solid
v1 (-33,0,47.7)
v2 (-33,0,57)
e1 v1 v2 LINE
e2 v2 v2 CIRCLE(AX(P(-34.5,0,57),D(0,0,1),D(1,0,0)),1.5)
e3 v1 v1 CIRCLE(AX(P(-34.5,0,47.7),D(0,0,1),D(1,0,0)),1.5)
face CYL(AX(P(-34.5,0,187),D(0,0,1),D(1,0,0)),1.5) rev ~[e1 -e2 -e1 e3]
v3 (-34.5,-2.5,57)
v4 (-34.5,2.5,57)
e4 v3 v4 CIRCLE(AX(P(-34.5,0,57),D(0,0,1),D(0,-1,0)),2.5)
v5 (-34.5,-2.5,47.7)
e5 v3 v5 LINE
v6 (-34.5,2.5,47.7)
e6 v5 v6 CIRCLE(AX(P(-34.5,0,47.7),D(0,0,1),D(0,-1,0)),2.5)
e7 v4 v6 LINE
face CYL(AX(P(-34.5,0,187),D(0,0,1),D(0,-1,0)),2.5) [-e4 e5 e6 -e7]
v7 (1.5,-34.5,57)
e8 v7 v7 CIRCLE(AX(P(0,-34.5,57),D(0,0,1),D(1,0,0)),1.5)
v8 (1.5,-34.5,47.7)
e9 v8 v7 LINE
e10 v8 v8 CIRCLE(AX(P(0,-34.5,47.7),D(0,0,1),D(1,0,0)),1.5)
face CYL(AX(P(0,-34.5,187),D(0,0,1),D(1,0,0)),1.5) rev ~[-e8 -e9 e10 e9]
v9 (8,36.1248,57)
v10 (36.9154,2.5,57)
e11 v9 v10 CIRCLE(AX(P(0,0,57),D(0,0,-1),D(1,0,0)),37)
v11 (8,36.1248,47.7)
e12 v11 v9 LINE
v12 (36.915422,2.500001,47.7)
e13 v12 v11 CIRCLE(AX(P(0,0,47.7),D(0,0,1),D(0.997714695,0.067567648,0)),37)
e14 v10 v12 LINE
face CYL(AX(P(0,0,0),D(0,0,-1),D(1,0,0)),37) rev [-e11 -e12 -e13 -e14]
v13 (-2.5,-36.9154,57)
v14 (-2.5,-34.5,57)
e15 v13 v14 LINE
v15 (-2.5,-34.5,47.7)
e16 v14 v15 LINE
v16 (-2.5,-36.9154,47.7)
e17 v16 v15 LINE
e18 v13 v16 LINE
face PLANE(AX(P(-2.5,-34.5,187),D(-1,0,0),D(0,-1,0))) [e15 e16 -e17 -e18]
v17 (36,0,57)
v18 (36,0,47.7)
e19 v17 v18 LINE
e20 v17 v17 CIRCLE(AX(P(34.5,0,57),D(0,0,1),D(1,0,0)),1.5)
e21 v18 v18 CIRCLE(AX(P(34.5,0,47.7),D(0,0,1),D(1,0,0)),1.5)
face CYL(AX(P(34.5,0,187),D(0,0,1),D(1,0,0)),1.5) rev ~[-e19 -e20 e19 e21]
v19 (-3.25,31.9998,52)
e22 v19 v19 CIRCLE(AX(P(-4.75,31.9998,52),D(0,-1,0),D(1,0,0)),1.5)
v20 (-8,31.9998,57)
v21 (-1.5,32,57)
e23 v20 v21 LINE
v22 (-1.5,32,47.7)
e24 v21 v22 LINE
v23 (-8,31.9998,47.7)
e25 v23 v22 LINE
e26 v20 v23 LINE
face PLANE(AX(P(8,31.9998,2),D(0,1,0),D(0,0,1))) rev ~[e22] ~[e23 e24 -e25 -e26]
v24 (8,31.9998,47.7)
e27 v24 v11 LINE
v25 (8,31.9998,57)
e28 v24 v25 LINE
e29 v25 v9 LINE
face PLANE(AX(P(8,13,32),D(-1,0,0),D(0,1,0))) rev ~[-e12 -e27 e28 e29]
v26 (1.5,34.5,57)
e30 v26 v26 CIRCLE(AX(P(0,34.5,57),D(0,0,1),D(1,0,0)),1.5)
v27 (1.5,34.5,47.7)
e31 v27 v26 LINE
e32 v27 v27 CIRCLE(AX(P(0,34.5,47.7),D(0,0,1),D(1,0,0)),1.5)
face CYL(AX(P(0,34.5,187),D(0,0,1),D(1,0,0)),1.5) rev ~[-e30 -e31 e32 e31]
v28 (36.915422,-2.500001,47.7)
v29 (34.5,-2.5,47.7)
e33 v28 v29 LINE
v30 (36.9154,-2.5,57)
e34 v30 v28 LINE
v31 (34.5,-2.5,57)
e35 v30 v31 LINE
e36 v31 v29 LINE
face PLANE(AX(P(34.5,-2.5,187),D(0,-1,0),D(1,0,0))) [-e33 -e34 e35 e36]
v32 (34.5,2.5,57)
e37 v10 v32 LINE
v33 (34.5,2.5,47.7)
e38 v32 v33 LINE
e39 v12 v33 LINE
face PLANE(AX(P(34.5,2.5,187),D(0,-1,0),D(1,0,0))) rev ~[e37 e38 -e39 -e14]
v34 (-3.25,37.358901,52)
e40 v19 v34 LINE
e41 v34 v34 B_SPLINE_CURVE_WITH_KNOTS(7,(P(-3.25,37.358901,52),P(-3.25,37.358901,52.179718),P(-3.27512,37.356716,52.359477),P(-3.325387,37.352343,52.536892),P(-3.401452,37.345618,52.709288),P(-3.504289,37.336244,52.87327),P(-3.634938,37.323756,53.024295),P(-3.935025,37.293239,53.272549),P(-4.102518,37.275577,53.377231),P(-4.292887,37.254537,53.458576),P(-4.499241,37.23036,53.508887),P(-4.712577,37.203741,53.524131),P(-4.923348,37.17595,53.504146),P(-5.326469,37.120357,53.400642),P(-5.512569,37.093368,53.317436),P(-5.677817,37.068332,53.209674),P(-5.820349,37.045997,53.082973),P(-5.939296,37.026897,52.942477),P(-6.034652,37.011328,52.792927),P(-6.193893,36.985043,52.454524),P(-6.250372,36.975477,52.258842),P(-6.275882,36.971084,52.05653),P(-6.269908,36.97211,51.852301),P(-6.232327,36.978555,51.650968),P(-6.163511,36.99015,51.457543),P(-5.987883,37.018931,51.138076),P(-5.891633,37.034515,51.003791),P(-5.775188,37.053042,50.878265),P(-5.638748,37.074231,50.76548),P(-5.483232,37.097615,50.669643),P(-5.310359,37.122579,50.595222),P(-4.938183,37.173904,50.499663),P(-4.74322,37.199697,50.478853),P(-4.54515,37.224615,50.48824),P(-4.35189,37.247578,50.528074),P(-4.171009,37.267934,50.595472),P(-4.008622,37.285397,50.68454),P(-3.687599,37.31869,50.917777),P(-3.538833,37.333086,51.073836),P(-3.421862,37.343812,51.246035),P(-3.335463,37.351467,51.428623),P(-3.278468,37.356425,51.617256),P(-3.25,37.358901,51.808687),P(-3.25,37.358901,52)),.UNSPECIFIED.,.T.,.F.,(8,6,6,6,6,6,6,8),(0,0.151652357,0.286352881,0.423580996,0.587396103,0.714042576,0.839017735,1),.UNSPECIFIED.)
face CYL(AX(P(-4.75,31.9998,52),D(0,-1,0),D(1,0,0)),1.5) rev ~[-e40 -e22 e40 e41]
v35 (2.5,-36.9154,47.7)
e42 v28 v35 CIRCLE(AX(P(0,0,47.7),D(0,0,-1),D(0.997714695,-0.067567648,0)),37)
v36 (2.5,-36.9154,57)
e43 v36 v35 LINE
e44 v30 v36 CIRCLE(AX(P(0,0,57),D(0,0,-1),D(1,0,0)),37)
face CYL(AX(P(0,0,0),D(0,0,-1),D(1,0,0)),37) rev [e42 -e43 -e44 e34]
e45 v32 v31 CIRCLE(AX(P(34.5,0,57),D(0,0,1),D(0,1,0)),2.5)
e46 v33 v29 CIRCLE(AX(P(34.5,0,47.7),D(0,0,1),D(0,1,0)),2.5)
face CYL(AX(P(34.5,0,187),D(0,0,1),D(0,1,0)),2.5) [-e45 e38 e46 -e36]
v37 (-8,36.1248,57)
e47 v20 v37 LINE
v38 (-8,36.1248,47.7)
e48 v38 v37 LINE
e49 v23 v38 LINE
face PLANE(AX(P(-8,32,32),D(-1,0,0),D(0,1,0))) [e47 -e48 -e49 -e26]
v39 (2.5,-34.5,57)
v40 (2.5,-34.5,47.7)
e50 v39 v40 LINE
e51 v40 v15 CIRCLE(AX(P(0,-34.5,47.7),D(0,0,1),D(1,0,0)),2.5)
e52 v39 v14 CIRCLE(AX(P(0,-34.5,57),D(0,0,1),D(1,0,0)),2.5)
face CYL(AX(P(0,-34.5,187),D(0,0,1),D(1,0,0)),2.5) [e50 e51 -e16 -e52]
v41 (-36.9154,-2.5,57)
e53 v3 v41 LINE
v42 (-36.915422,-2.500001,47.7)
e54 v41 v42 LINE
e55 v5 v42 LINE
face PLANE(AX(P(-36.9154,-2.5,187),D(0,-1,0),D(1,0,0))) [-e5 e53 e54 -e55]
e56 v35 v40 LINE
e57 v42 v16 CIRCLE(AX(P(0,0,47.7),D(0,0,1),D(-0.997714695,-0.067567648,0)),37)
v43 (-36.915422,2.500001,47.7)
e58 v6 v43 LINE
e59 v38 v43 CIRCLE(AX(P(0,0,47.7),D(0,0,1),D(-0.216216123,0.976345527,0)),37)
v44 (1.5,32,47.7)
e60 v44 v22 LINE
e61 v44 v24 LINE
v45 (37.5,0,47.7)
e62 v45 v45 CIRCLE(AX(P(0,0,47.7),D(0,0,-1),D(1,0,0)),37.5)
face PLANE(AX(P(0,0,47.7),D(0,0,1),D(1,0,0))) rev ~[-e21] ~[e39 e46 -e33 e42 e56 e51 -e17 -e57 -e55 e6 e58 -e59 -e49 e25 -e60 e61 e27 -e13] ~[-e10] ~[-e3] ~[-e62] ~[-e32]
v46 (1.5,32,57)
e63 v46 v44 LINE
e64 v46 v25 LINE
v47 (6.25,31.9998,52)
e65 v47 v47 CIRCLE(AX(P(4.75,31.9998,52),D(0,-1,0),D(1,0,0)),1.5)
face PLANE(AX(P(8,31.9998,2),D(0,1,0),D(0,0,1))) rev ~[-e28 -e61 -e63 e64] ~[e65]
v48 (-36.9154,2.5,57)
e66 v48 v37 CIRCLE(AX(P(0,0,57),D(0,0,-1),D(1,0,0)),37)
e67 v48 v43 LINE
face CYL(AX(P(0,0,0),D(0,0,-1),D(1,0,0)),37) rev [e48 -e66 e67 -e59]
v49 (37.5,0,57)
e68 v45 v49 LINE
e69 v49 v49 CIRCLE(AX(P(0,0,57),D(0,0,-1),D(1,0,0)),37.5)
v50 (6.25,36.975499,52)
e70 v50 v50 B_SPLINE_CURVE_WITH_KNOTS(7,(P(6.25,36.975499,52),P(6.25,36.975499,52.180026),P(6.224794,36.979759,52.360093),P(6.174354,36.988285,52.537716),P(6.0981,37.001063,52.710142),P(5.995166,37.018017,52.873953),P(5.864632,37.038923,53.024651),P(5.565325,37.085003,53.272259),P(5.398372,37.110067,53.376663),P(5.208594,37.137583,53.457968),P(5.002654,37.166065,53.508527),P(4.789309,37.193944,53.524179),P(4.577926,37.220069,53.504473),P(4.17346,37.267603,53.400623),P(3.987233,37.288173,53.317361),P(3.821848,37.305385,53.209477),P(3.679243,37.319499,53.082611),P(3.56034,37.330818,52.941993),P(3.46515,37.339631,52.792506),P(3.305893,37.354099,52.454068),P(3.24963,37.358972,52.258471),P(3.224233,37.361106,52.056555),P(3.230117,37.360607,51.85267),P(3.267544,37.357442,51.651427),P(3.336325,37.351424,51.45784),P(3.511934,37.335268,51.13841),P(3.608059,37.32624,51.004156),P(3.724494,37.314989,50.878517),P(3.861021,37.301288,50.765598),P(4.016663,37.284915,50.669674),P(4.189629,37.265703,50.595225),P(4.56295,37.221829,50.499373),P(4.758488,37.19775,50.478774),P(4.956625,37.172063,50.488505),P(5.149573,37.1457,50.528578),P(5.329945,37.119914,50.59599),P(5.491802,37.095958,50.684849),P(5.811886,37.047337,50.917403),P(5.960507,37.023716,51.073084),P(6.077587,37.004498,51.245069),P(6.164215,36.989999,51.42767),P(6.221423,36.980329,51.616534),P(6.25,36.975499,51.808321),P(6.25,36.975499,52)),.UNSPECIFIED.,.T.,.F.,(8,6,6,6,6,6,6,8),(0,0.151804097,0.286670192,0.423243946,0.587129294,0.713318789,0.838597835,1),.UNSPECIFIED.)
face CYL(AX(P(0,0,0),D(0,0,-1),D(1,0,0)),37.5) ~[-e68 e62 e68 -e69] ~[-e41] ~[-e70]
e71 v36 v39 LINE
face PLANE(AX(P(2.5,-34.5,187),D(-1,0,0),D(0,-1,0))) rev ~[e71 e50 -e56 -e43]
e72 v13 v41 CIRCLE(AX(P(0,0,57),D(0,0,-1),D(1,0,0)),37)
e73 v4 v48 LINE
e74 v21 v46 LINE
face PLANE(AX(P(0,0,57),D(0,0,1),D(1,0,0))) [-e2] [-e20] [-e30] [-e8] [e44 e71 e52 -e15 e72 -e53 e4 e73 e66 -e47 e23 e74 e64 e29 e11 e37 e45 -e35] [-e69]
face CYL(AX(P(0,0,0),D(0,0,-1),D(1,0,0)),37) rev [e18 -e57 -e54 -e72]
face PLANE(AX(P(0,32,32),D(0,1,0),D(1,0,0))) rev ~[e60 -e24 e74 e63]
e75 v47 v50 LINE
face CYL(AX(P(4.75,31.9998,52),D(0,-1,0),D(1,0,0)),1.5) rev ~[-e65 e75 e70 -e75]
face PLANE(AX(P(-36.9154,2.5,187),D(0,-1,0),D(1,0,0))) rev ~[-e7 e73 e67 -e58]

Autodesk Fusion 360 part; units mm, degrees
sketch "Esboço2" plane through (0, 0, 0) normal (0, 0, 1) x (1, 0, 0)
  circle A0 centre (0, 0) radius 37.5
  circle A1 centre (0, 0) radius 37
  dimension "d6" = 75
  dimension "d7" = 74
extrude "Extrusão2" add sketch "Esboço2" along normal blind 190
ref_plane "Plano de trabalho9" through (0, 0, 187) normal (0, 0, 1) x (1, 0, 0)
sketch "Esboço10" plane through (0, 0, 187) normal (0, 0, 1) x (1, 0, 0)
  circle A0 centre (0, 0) radius 34.5 construction
  line L0 (0, 0) -> (-68.1762, 0) construction
  line L1 (0, 0) -> (60, 0) construction
  line L2 (0, 0) -> (0, 45) construction
  line L3 (0, 0) -> (0, -43.1659) construction
  circle A1 centre (34.5, 0) radius 1.5
  line L4 (3, -43) -> (3, -42)
  circle A2 centre (0, 34.5) radius 1.5
  circle A3 centre (-34.5, 0) radius 1.5
  circle A4 centre (0, -34.5) radius 1.5
  arc A5 (34.5, 2.5) -> (34.5, -2.5) centre (34.5, 0) ccw
  arc A6 (-2.5, 34.5) -> (2.5, 34.5) centre (0, 34.5) ccw
  arc A7 (-34.5, -2.5) -> (-34.5, 2.5) centre (-34.5, 0) ccw
  arc A8 (2.5, -34.5) -> (-2.5, -34.5) centre (0, -34.5) ccw
  circle A9 centre (0, 0) radius 37
  line L5 (-36.9154, 2.5) -> (-34.4093, 2.5)
  line L6 (-36.9154, -2.5) -> (-34.4093, -2.5)
  line L7 (34.5, 2.5) -> (36.9154, 2.5)
  line L8 (34.5, -2.5) -> (36.9154, -2.5)
  line L9 (2.5, 36.9154) -> (2.5, 34.4093)
  line L10 (-2.5, 36.9154) -> (-2.5, 34.4093)
  line L11 (-2.5, -34.4093) -> (-2.5, -36.9154)
  line L12 (2.5, -34.4093) -> (2.5, -36.9154)
  dimension "d82" = 69
  dimension "d83" = 3
  dimension "d84" = 2.5
  dimension "d85" = 2.5
  dimension "d87" = 360
  dimension "d89" = 360
  dimension "d90" = 2.5
extrude "Extrusão12" add sketch "Esboço10" against normal blind 184 contours A5 A9 L7 L8 | A6 A9 L9 L10 | A8 A9 L11 L12 | A7 A9 L5 L6
thread "Rosca3"
ref_plane "Plano de trabalho3" through (0, 0, 32) normal (0, 0, 1) x (1, 0, 0)
sketch "Esboço3" plane through (0, 0, 32) normal (0, 0, 1) x (1, 0, 0)
  line L0 (0, 0) -> (0, 37) construction
  line L1 (34.2491, 14) -> (-34.2491, 14)
  circle A0 centre (0, 0) radius 37
  line L2 (31.1288, 20) -> (-31.1288, 20)
  line L3 (32.8634, 17) -> (-32.8634, 17)
  circle A1 centre (0, 0) radius 50
  circle A2 centre (0, 0) radius 37.5
  line L4 (-8, 0) -> (8, 0)
  line L5 (8, 0) -> (8, 36.1248)
  line L6 (-8, 0) -> (-8, 36.1248)
  circle A3 centre (0, 34.5) radius 1.5
  line L7 (1.5, 32.5) -> (1.5, 0)
  arc A4 (-2.5, 34.5) -> (2.5, 34.5) centre (0, 34.5) ccw
  line L8 (-1.5, 32.5) -> (-1.5, 0)
  line L9 (27.8634, 24.3441) -> (27.8634, 11)
  line L10 (27.8634, 11) -> (35.327, 11)
  line L11 (-27.8634, 11) -> (-35.327, 11)
  line L12 (-27.8634, 24.3441) -> (-27.8634, 11)
  line L13 (-30.4631, 21) -> (30.4631, 21)
  line L14 (-34.641, 13) -> (34.641, 13)
  line L15 (0, 32) -> (8, 32)
  line L16 (0, 32) -> (-8, 32)
  dimension "d12" = 6
  dimension "d15" = 3
  dimension "d17" = 75
  dimension "d18" = 100
  dimension "d41" = 14
  dimension "d51" = 8
  dimension "d52" = 16
  dimension "d99" = 3
  dimension "d100" = 2.5
  dimension "d115" = 6.5
  dimension "d123" = 5
  dimension "d124" = 6
  dimension "d143" = 4
  dimension "d144" = 4
extrude "Extrusão21" add sketch "Esboço3" along normal blind 6 and the other way blind 6 contours L1 A0 L9 L14 | L1 A0 L3 L9 | A0 L9 L10 L14 | A0 L2 L3 L9 | A0 L2 L9 L13 | A0 L9 L13 | A0 L11 L12 L14 | L1 A0 L12 L14 | L1 A0 L3 L12 | A0 L2 L3 L12 | A0 L12 L13 | A0 L2 L12 L13
sketch "Esboço18" plane through (-27.8634, 0, 0) normal (1, 0, 0) x (0, 1, 0)
  line L0 (24.3441, 26) -> (24.3441, 38)
  line L1 (24.3441, 38) -> (11, 38)
  line L2 (11, 38) -> (11, 26)
  line L3 (11, 26) -> (24.3441, 26)
  circle A0 centre (17, 32) radius 4
  point P0 (11, 32)
  dimension "d166" = 8
  dimension "d167" = 6
  dimension "d168" = 6
ref_plane "Plano de trabalho11" through (0, 0, 0) normal (1, 0, 0) x (0, 1, 0)
extrude "Extrusão23" cut sketch "Esboço18" against normal blind 15 contours A0
extrude "Extrusão7" add sketch "Esboço3" along normal blind 30 and the other way blind 30 contours L1 L5 L7 L14 | L1 L3 L5 L7 | L4 L5 L7 L14 | L2 L3 L5 L7 | L1 L6 L8 L14 | L1 L3 L6 L8 | L2 L5 L7 L13 | L2 L3 L6 L8 | L4 L6 L8 L14 | L5 L7 L13 L15 | A0 L5 L6 L7 A4 L8 L15 L16 | L2 L6 L8 L13 | L6 L8 L13 L16 | L7 A4 L15 | A4 L8 L16
sketch "Esboço19" plane through (27.8634, 0, 0) normal (-1, 0, 0) x (0, -1, 0)
  line L0 (-11, 26) -> (-11, 38)
  line L1 (-11, 38) -> (-24.3441, 38)
  line L2 (-24.3441, 38) -> (-24.3441, 26)
  line L3 (-24.3441, 26) -> (-11, 26)
extrude "Extrusão24" cut sketch "Esboço18" along normal blind 80 contours A0
sketch "Esboço11" plane through (8, 0, 0) normal (1, 0, 0) x (0, 1, 0)
  line L0 (0, 2) -> (36.1248, 2)
  line L1 (36.1248, 2) -> (36.1248, 62)
  line L2 (36.1248, 62) -> (0, 62)
  line L3 (0, 62) -> (0, 2)
  circle A0 centre (17, 32) radius 3
  circle A1 centre (17, 32) radius 9.5
  circle A2 centre (17, 32) radius 12.5
  line L4 (36.1248, 32) -> (36.1248, -5) construction
  line L5 (0, 32) -> (36.1248, 32)
  line L6 (30.1248, 2) -> (8.3278, 22.9976)
  line L7 (30.1248, 62) -> (8.3278, 41.0024)
  line L8 (30.1248, 2) -> (31.9998, 2)
  line L9 (31.9998, 2) -> (31.9998, 32)
  line L10 (30.1248, 62) -> (31.9998, 62)
  line L11 (31.9998, 62) -> (31.9998, 32)
  circle A3 centre (17, 32) radius 4
  point P0 (14, 32)
  point P1 (20, 32)
  dimension "d106" = 6
  dimension "d107" = 19
  dimension "d109" = 25
  dimension "d110" = 6
  dimension "d147" = 1.875
extrude "Extrusão13" cut sketch "Esboço11" against normal blind 16 contours L0 L3 A2 L5 L6 | L0 A2 L5 L6 L8 L9 | L2 L3 A2 L5 L7 | A1 A2 L5 | A1 A2 L5 | L2 A2 L5 L7 L10 L11 | A1 L5 A3 | A1 L5 A3 | A0 L5 A3 | A0 L5 A3 | A0 L5 | A0 L5
ref_plane "Plano de trabalho4" through (0, 0, 150) normal (0, 0, 1) x (1, 0, 0)
sketch "Esboço4" plane through (0, 0, 150) normal (0, 0, 1) x (1, 0, 0)
  circle A0 centre (0, 0) radius 37
  circle A1 centre (0, 0) radius 50
  circle A2 centre (0, 0) radius 37.5
  line L0 (-20, -31.1288) -> (-20, 31.1288)
  line L1 (-17, -32.8634) -> (-17, 32.8634)
  line L2 (-14, -34.2491) -> (-14, 34.2491)
  line L3 (0, 8) -> (0, -8)
  line L4 (0, 8) -> (-36.1248, 8)
  line L5 (0, -8) -> (-36.1248, -8)
  line L6 (0, 0) -> (-37, 0) construction
  circle A3 centre (-34.5, 0) radius 1.5
  line L7 (0, 1.5) -> (-32.5, 1.5)
  arc A4 (-34.5, -2.5) -> (-34.5, 2.5) centre (-34.5, 0) ccw
  line L8 (0, -1.5) -> (-32.5, -1.5)
  line L9 (-24.3441, -27.8634) -> (-11, -27.8634)
  line L10 (-11, -27.8634) -> (-11, -35.327)
  line L11 (-24.3441, 27.8634) -> (-11, 27.8634)
  line L12 (-11, 27.8634) -> (-11, 35.327)
  line L13 (-13, 34.641) -> (-13, -34.641)
  line L14 (-21, 30.4631) -> (-21, -30.4631)
  line L15 (-32, 0) -> (-32, 8)
  line L16 (-32, 0) -> (-32, -8)
  dimension "d28" = 75
  dimension "d29" = 100
  dimension "d38" = 14
  dimension "d39" = 6
  dimension "d40" = 3
  dimension "d43" = 16
  dimension "d44" = 8
  dimension "d101" = 3
  dimension "d102" = 2.5
  dimension "d116" = 6.5
  dimension "d135" = 6
  dimension "d136" = 5
  dimension "d145" = 4
  dimension "d146" = 4
extrude "Extrusão25" add sketch "Esboço4" along normal blind 6 and the other way blind 6 contours A0 L11 L12 L13 | A0 L9 L10 L13 | A0 L2 L11 L13 | A0 L2 L9 L13 | A0 L1 L2 L11 | A0 L1 L2 L9 | A0 L0 L1 L11 | A0 L0 L1 L9 | A0 L0 L11 L14 | A0 L0 L9 L14 | A0 L11 L14 | A0 L9 L14
sketch "Esboço20" plane through (0, 27.8634, 0) normal (0, -1, 0) x (1, 0, 0)
  line L0 (-11, 144) -> (-11, 156)
  line L1 (-11, 156) -> (-24.3441, 156)
  line L2 (-24.3441, 156) -> (-24.3441, 144)
  line L3 (-24.3441, 144) -> (-11, 144)
  circle A0 centre (-17, 150) radius 4
  dimension "d179" = 8
  dimension "d180" = 6
  dimension "d182" = 6
extrude "Extrusão26" cut sketch "Esboço20" against normal blind 15 contours A0
sketch "Esboço21" plane through (0, -27.8634, 0) normal (0, 1, 0) x (-1, 0, 0)
  line L0 (24.3441, 144) -> (24.3441, 156)
  line L1 (24.3441, 156) -> (11, 156)
  line L2 (11, 156) -> (11, 144)
  line L3 (11, 144) -> (24.3441, 144)
  circle A0 centre (17, 150) radius 4
  dimension "d185" = 8
  dimension "d186" = 6
  dimension "d187" = 6
extrude "Extrusão27" cut sketch "Esboço21" against normal blind 15 contours A0
extrude "Extrusão6" add sketch "Esboço4" along normal blind 30 and the other way blind 30 contours L2 L4 L7 L13 | L3 L4 L7 L13 | L3 L5 L8 L13 | L2 L5 L8 L13 | L1 L2 L4 L7 | L1 L2 L5 L8 | L0 L1 L4 L7 | L0 L1 L5 L8 | L0 L4 L7 L14 | L0 L5 L8 L14 | A0 L4 L5 L7 A4 L8 L15 L16 | L4 L7 L14 L15 | L5 L8 L14 L16 | L7 A4 L15 | A4 L8 L16
sketch "Esboço13" plane through (0, -8, 0) normal (0, -1, 0) x (1, 0, 0)
  line L0 (0, 120) -> (0, 180)
  line L1 (0, 180) -> (-36.1248, 180)
  line L2 (-36.1248, 180) -> (-36.1248, 120)
  line L3 (-36.1248, 120) -> (0, 120)
  circle A0 centre (-17, 150) radius 3
  circle A1 centre (-17, 150) radius 9.5
  circle A2 centre (-17, 150) radius 12.5
  line L4 (-36.1248, 150) -> (-36.1248, 198.4836) construction
  line L5 (-30.1248, 180) -> (-6.6704, 157.4058)
  line L6 (0, 150) -> (-36.1248, 150)
  line L7 (-30.1248, 120) -> (-6.6704, 142.5942)
  line L8 (-30.1248, 180) -> (-31.9998, 180)
  line L9 (-31.9998, 180) -> (-31.9998, 150)
  line L10 (-30.1248, 120) -> (-31.9998, 120)
  line L11 (-31.9998, 120) -> (-31.9998, 150)
  point P0 (-14, 150)
  point P1 (-20, 150)
  dimension "d117" = 6
  dimension "d118" = 19
  dimension "d119" = 25
  dimension "d120" = 6
  dimension "d148" = 1.875
extrude "Extrusão14" cut sketch "Esboço13" against normal blind 16 contours L0 L3 A2 L6 L7 | L0 L1 A2 L5 L6 | L3 A2 L6 L7 L10 L11 | A1 A2 L6 | A1 A2 L6 | L1 A2 L5 L6 L8 L9 | A0 A1 L6 | A0 A1 L6 | A0 L6 | A0 L6
ref_plane "Plano de trabalho5" through (0, 0, 0) normal (1, 0, 0) x (0, 1, 0)
ref_plane "Plano de trabalho6" through (0, 0, 0) normal (0, 1, 0) x (0, 0, 1)
ref_plane "Plano de trabalho7" through (0, 0, 134.3) normal (0, 0, 1) x (1, 0, 0)
sketch "Esboço8" plane through (0, 0, 134.3) normal (0, 0, 1) x (1, 0, 0)
  line L0 (46.3444, 0) -> (0, 0) construction
  line L1 (8, 36.1248) -> (8, -36.1248)
  line L2 (-8, -36.1248) -> (-8, 36.1248)
  circle A0 centre (0, 0) radius 37
  line L3 (0, 0) -> (0, 37) construction
  circle A1 centre (0, 34.5) radius 1.5
  circle A2 centre (0, -34.5) radius 1.5
  dimension "d72" = 8
  dimension "d73" = 8
  dimension "d95" = 2.5
  dimension "d96" = 3
extrude "Extrusão10" add sketch "Esboço8" along normal blind 2 contours L1 L2 A0
ref_plane "Plano de trabalho8" through (0, 0, 45.7) normal (0, 0, 1) x (1, 0, 0)
sketch "Esboço9" plane through (0, 0, 45.7) normal (0, 0, 1) x (1, 0, 0)
  line L0 (0, 0) -> (-37, 0) construction
  line L1 (-36.1248, 8) -> (36.1248, 8)
  line L2 (-36.1248, -8) -> (36.1248, -8)
  circle A0 centre (0, 0) radius 37
  circle A1 centre (-34.5, 0) radius 1.5
  line L3 (0, 0) -> (0, 43.2459) construction
  circle A2 centre (34.5, 0) radius 1.5
  dimension "d77" = 8
  dimension "d78" = 8
  dimension "d97" = 3
  dimension "d98" = 2.5
extrude "Extrusão11" add sketch "Esboço9" along normal blind 2 contours L1 L2 A0
ref_plane "Plano de trabalho10" through (8, 18.0624, 32) normal (1, 0, 0) x (0, 1, 0)
sketch "Esboço16" plane through (-31.9998, 0, 0) normal (1, 0, 0) x (0, 1, 0)
  line L0 (1.5, 180) -> (1.5, 120)
  line L1 (1.5, 120) -> (8, 120)
  line L2 (8, 120) -> (8, 180)
  line L3 (8, 180) -> (1.5, 180)
  line L4 (4.75, 180) -> (4.75, 120) construction
  circle A0 centre (4.75, 170) radius 1.5
  circle A1 centre (4.75, 130) radius 1.5
  line L5 (8, 150) -> (-12.335, 150) construction
  line L6 (0, 2.5) -> (0, 20)
  circle A2 centre (-4.75, 170) radius 1.5
  circle A3 centre (-4.75, 130) radius 1.5
  dimension "d149" = 3
  dimension "d150" = 3
  dimension "d151" = 40
  dimension "d152" = 20
extrude "Extrusão19" cut sketch "Esboço16" against normal blind 10 contours A0 | A1 | A2 | A3
sketch "Esboço17" plane through (0, 31.9998, 0) normal (0, -1, 0) x (1, 0, 0)
  line L0 (1.5, 62) -> (1.5, 2)
  line L1 (1.5, 2) -> (8, 2)
  line L2 (8, 2) -> (8, 62)
  line L3 (8, 62) -> (1.5, 62)
  line L4 (4.75, 2) -> (4.75, 62) construction
  line L5 (8, 32) -> (-12, 32) construction
  circle A0 centre (4.75, 52) radius 1.5
  circle A1 centre (4.75, 12) radius 1.5
  line L6 (0, 1.75) -> (0, 22.5)
  circle A2 centre (-4.75, 12) radius 1.5
  circle A3 centre (-4.75, 52) radius 1.5
  dimension "d155" = 3
  dimension "d156" = 3
  dimension "d157" = 40
  dimension "d158" = 20
extrude "Extrusão20" cut sketch "Esboço17" against normal blind 10 contours A0 | A1 | A2 | A3
thread "Rosca4"
thread "Rosca5"
sketch "Esboço22" plane through (0, 0, 136.3) normal (0, 0, 1) x (-1, 0, 0)
  line L0 (2.5, 36.9154) -> (2.5, 34.5)
  arc A0 (-2.5, 34.5) -> (2.5, 34.5) centre (0, 34.5) ccw
  line L1 (-2.5, 34.5) -> (-2.5, 36.9154)
  arc A1 (-2.5, 36.9154) -> (-8, 36.1248) centre (0, 0) ccw
  line L2 (-8, 36.1248) -> (-8, -36.1248)
  arc A2 (-8, -36.1248) -> (-2.5, -36.9154) centre (0, 0) ccw
  line L3 (-2.5, -36.9154) -> (-2.5, -34.5)
  arc A3 (2.5, -34.5) -> (-2.5, -34.5) centre (0, -34.5) ccw
  line L4 (2.5, -34.5) -> (2.5, -36.9154)
  arc A4 (2.5, -36.9154) -> (8, -36.1248) centre (0, 0) ccw
  line L5 (8, -36.1248) -> (8, 36.1248)
  arc A5 (8, 36.1248) -> (2.5, 36.9154) centre (0, 0) ccw
  line L6 (0, 0) -> (-21, 0) construction
  line L7 (0, 0) -> (0, -19.3) construction
  line L8 (2, -15.8) -> (-2, -15.8)
  arc A6 (-2, -15.8) -> (-2, -22.8) centre (-2, -19.3) ccw
  line L9 (-2, -22.8) -> (2, -22.8)
  arc A7 (2, -22.8) -> (2, -15.8) centre (2, -19.3) ccw
  line L10 (2, -19.3) -> (-2, -19.3) construction
  arc A8 (-2, 22.8) -> (-2, 15.8) centre (-2, 19.3) ccw
  line L11 (2, 15.8) -> (-2, 15.8)
  arc A9 (2, 15.8) -> (2, 22.8) centre (2, 19.3) ccw
  line L12 (-2, 22.8) -> (2, 22.8)
  circle A10 centre (0, 10.8) radius 1.5 construction
  line L13 (2, 19.3) -> (-2, 19.3) construction
  line L14 (2, 12.3) -> (-2, 12.3)
  arc A11 (-2, 12.3) -> (-2, 9.3) centre (-2, 10.8) ccw
  line L15 (-2, 9.3) -> (2, 9.3)
  arc A12 (2, 9.3) -> (2, 12.3) centre (2, 10.8) ccw
  line L16 (2, 10.8) -> (-2, 10.8) construction
  line L17 (2, 26.3) -> (-2, 26.3)
  arc A13 (2, 26.3) -> (2, 29.3) centre (2, 27.8) ccw
  line L18 (-2, 29.3) -> (2, 29.3)
  arc A14 (-2, 29.3) -> (-2, 26.3) centre (-2, 27.8) ccw
  arc A15 (2, -29.3) -> (2, -26.3) centre (2, -27.8) ccw
  line L19 (2, -26.3) -> (-2, -26.3)
  arc A16 (-2, -26.3) -> (-2, -29.3) centre (-2, -27.8) ccw
  line L20 (-2, -29.3) -> (2, -29.3)
  arc A17 (2, -12.3) -> (2, -9.3) centre (2, -10.8) ccw
  line L21 (-2, -9.3) -> (2, -9.3)
  arc A18 (-2, -9.3) -> (-2, -12.3) centre (-2, -10.8) ccw
  line L22 (2, -12.3) -> (-2, -12.3)
  point P0 (0, -19.3)
  point P1 (0, 10.8)
  dimension "d191" = 19.3
  dimension "d195" = 2
  dimension "d196" = 3.5
  dimension "d204" = 3
  dimension "d205" = 8.5
  dimension "d230" = 1.5
  dimension "d231" = 4
extrude "Extrusão28" cut sketch "Esboço22" against normal blind 5 contours L8 A6 L9 A7 | A8 L11 A9 L12 | L14 A11 L15 A12 | L17 A13 L18 A14 | A15 L19 A16 L20 | A17 L21 A18 L22
sketch "Esboço23" plane through (0, 0, 45.7) normal (0, 0, -1) x (1, 0, 0)
  line L0 (36.9154, -2.5) -> (34.5, -2.5)
  arc A0 (34.5, 2.5) -> (34.5, -2.5) centre (34.5, 0) ccw
  line L1 (34.5, 2.5) -> (36.9154, 2.5)
  arc A1 (36.9154, 2.5) -> (36.1248, 8) centre (0, 0) ccw
  line L2 (36.1248, 8) -> (-36.1248, 8)
  arc A2 (-36.1248, 8) -> (-36.9154, 2.5) centre (0, 0) ccw
  line L3 (-36.9154, 2.5) -> (-34.5, 2.5)
  arc A3 (-34.5, -2.5) -> (-34.5, 2.5) centre (-34.5, 0) ccw
  line L4 (-34.5, -2.5) -> (-36.9154, -2.5)
  arc A4 (-36.9154, -2.5) -> (-36.1248, -8) centre (0, 0) ccw
  line L5 (-36.1248, -8) -> (36.1248, -8)
  arc A5 (36.1248, -8) -> (36.9154, -2.5) centre (0, 0) ccw
  line L6 (0, 0) -> (0, -19) construction
  line L7 (0, 0) -> (19.3, 0)
  line L8 (15.8, 2.5) -> (15.8, -2.5)
  arc A6 (15.8, -2.5) -> (22.8, -2.5) centre (19.3, -2.5) ccw
  line L9 (22.8, -2.5) -> (22.8, 2.5)
  arc A7 (22.8, 2.5) -> (15.8, 2.5) centre (19.3, 2.5) ccw
  line L10 (19.3, 2.5) -> (19.3, -2.5) construction
  line L11 (-15.8, 2.5) -> (-15.8, -2.5)
  arc A8 (-15.8, 2.5) -> (-22.8, 2.5) centre (-19.3, 2.5) ccw
  line L12 (-22.8, -2.5) -> (-22.8, 2.5)
  arc A9 (-22.8, -2.5) -> (-15.8, -2.5) centre (-19.3, -2.5) ccw
  circle A10 centre (10.8, 0) radius 1.5 construction
  circle A11 centre (27.8, 0) radius 1.5 construction
  line L13 (9.3, 2.5) -> (9.3, -2.5)
  arc A12 (9.3, -2.5) -> (12.3, -2.5) centre (10.8, -2.5) ccw
  line L14 (12.3, -2.5) -> (12.3, 2.5)
  arc A13 (12.3, 2.5) -> (9.3, 2.5) centre (10.8, 2.5) ccw
  line L15 (10.8, 2.5) -> (10.8, -2.5) construction
  line L16 (26.3, -2.5) -> (26.3, 2.5)
  arc A14 (26.3, -2.5) -> (29.3, -2.5) centre (27.8, -2.5) ccw
  line L17 (29.3, 2.5) -> (29.3, -2.5)
  arc A15 (29.3, 2.5) -> (26.3, 2.5) centre (27.8, 2.5) ccw
  line L18 (-12.3, -2.5) -> (-12.3, 2.5)
  arc A16 (-12.3, -2.5) -> (-9.3, -2.5) centre (-10.8, -2.5) ccw
  line L19 (-9.3, 2.5) -> (-9.3, -2.5)
  arc A17 (-9.3, 2.5) -> (-12.3, 2.5) centre (-10.8, 2.5) ccw
  line L20 (-26.3, -2.5) -> (-26.3, 2.5)
  arc A18 (-29.3, -2.5) -> (-26.3, -2.5) centre (-27.8, -2.5) ccw
  line L21 (-29.3, 2.5) -> (-29.3, -2.5)
  arc A19 (-26.3, 2.5) -> (-29.3, 2.5) centre (-27.8, 2.5) ccw
  point P0 (19.3, 0)
  point P1 (10.8, 0)
  dimension "d199" = 3.5
  dimension "d200" = 5
  dimension "d201" = 19.3
  dimension "d206" = 3
  dimension "d207" = 8.5
  dimension "d228" = 2.5
  dimension "d229" = 1.5
extrude "Extrusão29" cut sketch "Esboço23" against normal blind 10 contours L7 L13 L14 A13 | L8 A6 L9 A7 | L7 L13 A12 L14 | L11 A8 L12 A9 | L16 A14 L17 A15 | L20 A18 L21 A19
ref_plane "Plano de trabalho12" through (0, 0, 106.3) normal (0, 0, 1) x (1, 0, 0)
sketch "Esboço24" plane through (0, 0, 106.3) normal (0, 0, 1) x (1, 0, 0)
  line L0 (0, 0) -> (28.1868, 0) construction
  line L1 (16, 0) -> (16, 33.3617)
  circle A0 centre (0, 0) radius 37
  line L2 (16, 0) -> (16, -33.3617)
  line L3 (0, 0) -> (0, 19.3) construction
  line L4 (-16, 0) -> (-16, 33.3617)
  line L5 (-16, 0) -> (-16, -33.3617)
  line L6 (-2, 6.8) -> (2, 6.8)
  arc A1 (2, 6.8) -> (2, 31.8) centre (2, 19.3) ccw
  line L7 (2, 31.8) -> (-2, 31.8)
  arc A2 (-2, 31.8) -> (-2, 6.8) centre (-2, 19.3) ccw
  line L8 (-2, 19.3) -> (2, 19.3) construction
  arc A3 (2, -31.8) -> (2, -6.8) centre (2, -19.3) ccw
  arc A4 (-2, -6.8) -> (-2, -31.8) centre (-2, -19.3) ccw
  line L9 (-2, -6.8) -> (2, -6.8)
  line L10 (2, -31.8) -> (-2, -31.8)
  circle A5 centre (0, 34.5) radius 1.5
  circle A6 centre (0, -34.5) radius 1.5
  point P0 (0, 19.3)
  dimension "d209" = 16
  dimension "d210" = 12.5
  dimension "d211" = 4
  dimension "d212" = 19.3
  dimension "d215" = 3
  dimension "d216" = 34.5
ref_plane "Plano de trabalho13" through (0, 0, 55.7) normal (0, 0, -1) x (-1, 0, 0)
ref_plane "Plano de trabalho14" through (0, 0, 60) normal (0, 0, 1) x (1, 0, 0)
sketch "Esboço25" plane through (0, 0, 55.7) normal (0, 0, -1) x (1, 0, 0)
  line L0 (-33.3617, 16) -> (33.3617, 16)
  circle A0 centre (0, 0) radius 37
  line L1 (0, 0) -> (-19.3, 0) construction
  line L2 (-33.3617, -16) -> (33.3617, -16)
  line L3 (-6.8, -2) -> (-6.8, 2)
  arc A1 (-6.8, 2) -> (-31.8, 2) centre (-19.3, 2) ccw
  line L4 (-31.8, 2) -> (-31.8, -2)
  arc A2 (-31.8, -2) -> (-6.8, -2) centre (-19.3, -2) ccw
  line L5 (-19.3, -2) -> (-19.3, 2) construction
  circle A3 centre (-34.5, 0) radius 1.5
  line L6 (0, 0) -> (0, -12) construction
  arc A4 (31.8, 2) -> (6.8, 2) centre (19.3, 2) ccw
  line L7 (6.8, -2) -> (6.8, 2)
  arc A5 (6.8, -2) -> (31.8, -2) centre (19.3, -2) ccw
  circle A6 centre (34.5, 0) radius 1.5
  line L8 (31.8, 2) -> (31.8, -2)
  point P0 (-19.3, 0)
  dimension "d219" = 16
  dimension "d220" = 12.5
  dimension "d221" = 4
  dimension "d222" = 19.3
  dimension "d224" = 34.5
  dimension "d225" = 3
ref_plane "Plano de trabalho15" through (0, 0, 47.7) normal (0, 0, 1) x (1, 0, 0)
ref_plane "Plano de trabalho16" through (0, 0, 57) normal (0, 0, 1) x (1, 0, 0)
sketch "Esboço26" plane through (0, 0, 57) normal (0, 0, 1) x (1, 0, 0)
  circle A0 centre (0, 0) radius 47.1699
extrude "Extrusão32" cut sketch "Esboço26" along normal blind 200
sketch "Esboço27" plane through (0, 0, 47.7) normal (0, 0, 1) x (1, 0, 0)
  circle A0 centre (0, 0) radius 46.5442
extrude "Extrusão33" cut sketch "Esboço27" against normal blind 100
